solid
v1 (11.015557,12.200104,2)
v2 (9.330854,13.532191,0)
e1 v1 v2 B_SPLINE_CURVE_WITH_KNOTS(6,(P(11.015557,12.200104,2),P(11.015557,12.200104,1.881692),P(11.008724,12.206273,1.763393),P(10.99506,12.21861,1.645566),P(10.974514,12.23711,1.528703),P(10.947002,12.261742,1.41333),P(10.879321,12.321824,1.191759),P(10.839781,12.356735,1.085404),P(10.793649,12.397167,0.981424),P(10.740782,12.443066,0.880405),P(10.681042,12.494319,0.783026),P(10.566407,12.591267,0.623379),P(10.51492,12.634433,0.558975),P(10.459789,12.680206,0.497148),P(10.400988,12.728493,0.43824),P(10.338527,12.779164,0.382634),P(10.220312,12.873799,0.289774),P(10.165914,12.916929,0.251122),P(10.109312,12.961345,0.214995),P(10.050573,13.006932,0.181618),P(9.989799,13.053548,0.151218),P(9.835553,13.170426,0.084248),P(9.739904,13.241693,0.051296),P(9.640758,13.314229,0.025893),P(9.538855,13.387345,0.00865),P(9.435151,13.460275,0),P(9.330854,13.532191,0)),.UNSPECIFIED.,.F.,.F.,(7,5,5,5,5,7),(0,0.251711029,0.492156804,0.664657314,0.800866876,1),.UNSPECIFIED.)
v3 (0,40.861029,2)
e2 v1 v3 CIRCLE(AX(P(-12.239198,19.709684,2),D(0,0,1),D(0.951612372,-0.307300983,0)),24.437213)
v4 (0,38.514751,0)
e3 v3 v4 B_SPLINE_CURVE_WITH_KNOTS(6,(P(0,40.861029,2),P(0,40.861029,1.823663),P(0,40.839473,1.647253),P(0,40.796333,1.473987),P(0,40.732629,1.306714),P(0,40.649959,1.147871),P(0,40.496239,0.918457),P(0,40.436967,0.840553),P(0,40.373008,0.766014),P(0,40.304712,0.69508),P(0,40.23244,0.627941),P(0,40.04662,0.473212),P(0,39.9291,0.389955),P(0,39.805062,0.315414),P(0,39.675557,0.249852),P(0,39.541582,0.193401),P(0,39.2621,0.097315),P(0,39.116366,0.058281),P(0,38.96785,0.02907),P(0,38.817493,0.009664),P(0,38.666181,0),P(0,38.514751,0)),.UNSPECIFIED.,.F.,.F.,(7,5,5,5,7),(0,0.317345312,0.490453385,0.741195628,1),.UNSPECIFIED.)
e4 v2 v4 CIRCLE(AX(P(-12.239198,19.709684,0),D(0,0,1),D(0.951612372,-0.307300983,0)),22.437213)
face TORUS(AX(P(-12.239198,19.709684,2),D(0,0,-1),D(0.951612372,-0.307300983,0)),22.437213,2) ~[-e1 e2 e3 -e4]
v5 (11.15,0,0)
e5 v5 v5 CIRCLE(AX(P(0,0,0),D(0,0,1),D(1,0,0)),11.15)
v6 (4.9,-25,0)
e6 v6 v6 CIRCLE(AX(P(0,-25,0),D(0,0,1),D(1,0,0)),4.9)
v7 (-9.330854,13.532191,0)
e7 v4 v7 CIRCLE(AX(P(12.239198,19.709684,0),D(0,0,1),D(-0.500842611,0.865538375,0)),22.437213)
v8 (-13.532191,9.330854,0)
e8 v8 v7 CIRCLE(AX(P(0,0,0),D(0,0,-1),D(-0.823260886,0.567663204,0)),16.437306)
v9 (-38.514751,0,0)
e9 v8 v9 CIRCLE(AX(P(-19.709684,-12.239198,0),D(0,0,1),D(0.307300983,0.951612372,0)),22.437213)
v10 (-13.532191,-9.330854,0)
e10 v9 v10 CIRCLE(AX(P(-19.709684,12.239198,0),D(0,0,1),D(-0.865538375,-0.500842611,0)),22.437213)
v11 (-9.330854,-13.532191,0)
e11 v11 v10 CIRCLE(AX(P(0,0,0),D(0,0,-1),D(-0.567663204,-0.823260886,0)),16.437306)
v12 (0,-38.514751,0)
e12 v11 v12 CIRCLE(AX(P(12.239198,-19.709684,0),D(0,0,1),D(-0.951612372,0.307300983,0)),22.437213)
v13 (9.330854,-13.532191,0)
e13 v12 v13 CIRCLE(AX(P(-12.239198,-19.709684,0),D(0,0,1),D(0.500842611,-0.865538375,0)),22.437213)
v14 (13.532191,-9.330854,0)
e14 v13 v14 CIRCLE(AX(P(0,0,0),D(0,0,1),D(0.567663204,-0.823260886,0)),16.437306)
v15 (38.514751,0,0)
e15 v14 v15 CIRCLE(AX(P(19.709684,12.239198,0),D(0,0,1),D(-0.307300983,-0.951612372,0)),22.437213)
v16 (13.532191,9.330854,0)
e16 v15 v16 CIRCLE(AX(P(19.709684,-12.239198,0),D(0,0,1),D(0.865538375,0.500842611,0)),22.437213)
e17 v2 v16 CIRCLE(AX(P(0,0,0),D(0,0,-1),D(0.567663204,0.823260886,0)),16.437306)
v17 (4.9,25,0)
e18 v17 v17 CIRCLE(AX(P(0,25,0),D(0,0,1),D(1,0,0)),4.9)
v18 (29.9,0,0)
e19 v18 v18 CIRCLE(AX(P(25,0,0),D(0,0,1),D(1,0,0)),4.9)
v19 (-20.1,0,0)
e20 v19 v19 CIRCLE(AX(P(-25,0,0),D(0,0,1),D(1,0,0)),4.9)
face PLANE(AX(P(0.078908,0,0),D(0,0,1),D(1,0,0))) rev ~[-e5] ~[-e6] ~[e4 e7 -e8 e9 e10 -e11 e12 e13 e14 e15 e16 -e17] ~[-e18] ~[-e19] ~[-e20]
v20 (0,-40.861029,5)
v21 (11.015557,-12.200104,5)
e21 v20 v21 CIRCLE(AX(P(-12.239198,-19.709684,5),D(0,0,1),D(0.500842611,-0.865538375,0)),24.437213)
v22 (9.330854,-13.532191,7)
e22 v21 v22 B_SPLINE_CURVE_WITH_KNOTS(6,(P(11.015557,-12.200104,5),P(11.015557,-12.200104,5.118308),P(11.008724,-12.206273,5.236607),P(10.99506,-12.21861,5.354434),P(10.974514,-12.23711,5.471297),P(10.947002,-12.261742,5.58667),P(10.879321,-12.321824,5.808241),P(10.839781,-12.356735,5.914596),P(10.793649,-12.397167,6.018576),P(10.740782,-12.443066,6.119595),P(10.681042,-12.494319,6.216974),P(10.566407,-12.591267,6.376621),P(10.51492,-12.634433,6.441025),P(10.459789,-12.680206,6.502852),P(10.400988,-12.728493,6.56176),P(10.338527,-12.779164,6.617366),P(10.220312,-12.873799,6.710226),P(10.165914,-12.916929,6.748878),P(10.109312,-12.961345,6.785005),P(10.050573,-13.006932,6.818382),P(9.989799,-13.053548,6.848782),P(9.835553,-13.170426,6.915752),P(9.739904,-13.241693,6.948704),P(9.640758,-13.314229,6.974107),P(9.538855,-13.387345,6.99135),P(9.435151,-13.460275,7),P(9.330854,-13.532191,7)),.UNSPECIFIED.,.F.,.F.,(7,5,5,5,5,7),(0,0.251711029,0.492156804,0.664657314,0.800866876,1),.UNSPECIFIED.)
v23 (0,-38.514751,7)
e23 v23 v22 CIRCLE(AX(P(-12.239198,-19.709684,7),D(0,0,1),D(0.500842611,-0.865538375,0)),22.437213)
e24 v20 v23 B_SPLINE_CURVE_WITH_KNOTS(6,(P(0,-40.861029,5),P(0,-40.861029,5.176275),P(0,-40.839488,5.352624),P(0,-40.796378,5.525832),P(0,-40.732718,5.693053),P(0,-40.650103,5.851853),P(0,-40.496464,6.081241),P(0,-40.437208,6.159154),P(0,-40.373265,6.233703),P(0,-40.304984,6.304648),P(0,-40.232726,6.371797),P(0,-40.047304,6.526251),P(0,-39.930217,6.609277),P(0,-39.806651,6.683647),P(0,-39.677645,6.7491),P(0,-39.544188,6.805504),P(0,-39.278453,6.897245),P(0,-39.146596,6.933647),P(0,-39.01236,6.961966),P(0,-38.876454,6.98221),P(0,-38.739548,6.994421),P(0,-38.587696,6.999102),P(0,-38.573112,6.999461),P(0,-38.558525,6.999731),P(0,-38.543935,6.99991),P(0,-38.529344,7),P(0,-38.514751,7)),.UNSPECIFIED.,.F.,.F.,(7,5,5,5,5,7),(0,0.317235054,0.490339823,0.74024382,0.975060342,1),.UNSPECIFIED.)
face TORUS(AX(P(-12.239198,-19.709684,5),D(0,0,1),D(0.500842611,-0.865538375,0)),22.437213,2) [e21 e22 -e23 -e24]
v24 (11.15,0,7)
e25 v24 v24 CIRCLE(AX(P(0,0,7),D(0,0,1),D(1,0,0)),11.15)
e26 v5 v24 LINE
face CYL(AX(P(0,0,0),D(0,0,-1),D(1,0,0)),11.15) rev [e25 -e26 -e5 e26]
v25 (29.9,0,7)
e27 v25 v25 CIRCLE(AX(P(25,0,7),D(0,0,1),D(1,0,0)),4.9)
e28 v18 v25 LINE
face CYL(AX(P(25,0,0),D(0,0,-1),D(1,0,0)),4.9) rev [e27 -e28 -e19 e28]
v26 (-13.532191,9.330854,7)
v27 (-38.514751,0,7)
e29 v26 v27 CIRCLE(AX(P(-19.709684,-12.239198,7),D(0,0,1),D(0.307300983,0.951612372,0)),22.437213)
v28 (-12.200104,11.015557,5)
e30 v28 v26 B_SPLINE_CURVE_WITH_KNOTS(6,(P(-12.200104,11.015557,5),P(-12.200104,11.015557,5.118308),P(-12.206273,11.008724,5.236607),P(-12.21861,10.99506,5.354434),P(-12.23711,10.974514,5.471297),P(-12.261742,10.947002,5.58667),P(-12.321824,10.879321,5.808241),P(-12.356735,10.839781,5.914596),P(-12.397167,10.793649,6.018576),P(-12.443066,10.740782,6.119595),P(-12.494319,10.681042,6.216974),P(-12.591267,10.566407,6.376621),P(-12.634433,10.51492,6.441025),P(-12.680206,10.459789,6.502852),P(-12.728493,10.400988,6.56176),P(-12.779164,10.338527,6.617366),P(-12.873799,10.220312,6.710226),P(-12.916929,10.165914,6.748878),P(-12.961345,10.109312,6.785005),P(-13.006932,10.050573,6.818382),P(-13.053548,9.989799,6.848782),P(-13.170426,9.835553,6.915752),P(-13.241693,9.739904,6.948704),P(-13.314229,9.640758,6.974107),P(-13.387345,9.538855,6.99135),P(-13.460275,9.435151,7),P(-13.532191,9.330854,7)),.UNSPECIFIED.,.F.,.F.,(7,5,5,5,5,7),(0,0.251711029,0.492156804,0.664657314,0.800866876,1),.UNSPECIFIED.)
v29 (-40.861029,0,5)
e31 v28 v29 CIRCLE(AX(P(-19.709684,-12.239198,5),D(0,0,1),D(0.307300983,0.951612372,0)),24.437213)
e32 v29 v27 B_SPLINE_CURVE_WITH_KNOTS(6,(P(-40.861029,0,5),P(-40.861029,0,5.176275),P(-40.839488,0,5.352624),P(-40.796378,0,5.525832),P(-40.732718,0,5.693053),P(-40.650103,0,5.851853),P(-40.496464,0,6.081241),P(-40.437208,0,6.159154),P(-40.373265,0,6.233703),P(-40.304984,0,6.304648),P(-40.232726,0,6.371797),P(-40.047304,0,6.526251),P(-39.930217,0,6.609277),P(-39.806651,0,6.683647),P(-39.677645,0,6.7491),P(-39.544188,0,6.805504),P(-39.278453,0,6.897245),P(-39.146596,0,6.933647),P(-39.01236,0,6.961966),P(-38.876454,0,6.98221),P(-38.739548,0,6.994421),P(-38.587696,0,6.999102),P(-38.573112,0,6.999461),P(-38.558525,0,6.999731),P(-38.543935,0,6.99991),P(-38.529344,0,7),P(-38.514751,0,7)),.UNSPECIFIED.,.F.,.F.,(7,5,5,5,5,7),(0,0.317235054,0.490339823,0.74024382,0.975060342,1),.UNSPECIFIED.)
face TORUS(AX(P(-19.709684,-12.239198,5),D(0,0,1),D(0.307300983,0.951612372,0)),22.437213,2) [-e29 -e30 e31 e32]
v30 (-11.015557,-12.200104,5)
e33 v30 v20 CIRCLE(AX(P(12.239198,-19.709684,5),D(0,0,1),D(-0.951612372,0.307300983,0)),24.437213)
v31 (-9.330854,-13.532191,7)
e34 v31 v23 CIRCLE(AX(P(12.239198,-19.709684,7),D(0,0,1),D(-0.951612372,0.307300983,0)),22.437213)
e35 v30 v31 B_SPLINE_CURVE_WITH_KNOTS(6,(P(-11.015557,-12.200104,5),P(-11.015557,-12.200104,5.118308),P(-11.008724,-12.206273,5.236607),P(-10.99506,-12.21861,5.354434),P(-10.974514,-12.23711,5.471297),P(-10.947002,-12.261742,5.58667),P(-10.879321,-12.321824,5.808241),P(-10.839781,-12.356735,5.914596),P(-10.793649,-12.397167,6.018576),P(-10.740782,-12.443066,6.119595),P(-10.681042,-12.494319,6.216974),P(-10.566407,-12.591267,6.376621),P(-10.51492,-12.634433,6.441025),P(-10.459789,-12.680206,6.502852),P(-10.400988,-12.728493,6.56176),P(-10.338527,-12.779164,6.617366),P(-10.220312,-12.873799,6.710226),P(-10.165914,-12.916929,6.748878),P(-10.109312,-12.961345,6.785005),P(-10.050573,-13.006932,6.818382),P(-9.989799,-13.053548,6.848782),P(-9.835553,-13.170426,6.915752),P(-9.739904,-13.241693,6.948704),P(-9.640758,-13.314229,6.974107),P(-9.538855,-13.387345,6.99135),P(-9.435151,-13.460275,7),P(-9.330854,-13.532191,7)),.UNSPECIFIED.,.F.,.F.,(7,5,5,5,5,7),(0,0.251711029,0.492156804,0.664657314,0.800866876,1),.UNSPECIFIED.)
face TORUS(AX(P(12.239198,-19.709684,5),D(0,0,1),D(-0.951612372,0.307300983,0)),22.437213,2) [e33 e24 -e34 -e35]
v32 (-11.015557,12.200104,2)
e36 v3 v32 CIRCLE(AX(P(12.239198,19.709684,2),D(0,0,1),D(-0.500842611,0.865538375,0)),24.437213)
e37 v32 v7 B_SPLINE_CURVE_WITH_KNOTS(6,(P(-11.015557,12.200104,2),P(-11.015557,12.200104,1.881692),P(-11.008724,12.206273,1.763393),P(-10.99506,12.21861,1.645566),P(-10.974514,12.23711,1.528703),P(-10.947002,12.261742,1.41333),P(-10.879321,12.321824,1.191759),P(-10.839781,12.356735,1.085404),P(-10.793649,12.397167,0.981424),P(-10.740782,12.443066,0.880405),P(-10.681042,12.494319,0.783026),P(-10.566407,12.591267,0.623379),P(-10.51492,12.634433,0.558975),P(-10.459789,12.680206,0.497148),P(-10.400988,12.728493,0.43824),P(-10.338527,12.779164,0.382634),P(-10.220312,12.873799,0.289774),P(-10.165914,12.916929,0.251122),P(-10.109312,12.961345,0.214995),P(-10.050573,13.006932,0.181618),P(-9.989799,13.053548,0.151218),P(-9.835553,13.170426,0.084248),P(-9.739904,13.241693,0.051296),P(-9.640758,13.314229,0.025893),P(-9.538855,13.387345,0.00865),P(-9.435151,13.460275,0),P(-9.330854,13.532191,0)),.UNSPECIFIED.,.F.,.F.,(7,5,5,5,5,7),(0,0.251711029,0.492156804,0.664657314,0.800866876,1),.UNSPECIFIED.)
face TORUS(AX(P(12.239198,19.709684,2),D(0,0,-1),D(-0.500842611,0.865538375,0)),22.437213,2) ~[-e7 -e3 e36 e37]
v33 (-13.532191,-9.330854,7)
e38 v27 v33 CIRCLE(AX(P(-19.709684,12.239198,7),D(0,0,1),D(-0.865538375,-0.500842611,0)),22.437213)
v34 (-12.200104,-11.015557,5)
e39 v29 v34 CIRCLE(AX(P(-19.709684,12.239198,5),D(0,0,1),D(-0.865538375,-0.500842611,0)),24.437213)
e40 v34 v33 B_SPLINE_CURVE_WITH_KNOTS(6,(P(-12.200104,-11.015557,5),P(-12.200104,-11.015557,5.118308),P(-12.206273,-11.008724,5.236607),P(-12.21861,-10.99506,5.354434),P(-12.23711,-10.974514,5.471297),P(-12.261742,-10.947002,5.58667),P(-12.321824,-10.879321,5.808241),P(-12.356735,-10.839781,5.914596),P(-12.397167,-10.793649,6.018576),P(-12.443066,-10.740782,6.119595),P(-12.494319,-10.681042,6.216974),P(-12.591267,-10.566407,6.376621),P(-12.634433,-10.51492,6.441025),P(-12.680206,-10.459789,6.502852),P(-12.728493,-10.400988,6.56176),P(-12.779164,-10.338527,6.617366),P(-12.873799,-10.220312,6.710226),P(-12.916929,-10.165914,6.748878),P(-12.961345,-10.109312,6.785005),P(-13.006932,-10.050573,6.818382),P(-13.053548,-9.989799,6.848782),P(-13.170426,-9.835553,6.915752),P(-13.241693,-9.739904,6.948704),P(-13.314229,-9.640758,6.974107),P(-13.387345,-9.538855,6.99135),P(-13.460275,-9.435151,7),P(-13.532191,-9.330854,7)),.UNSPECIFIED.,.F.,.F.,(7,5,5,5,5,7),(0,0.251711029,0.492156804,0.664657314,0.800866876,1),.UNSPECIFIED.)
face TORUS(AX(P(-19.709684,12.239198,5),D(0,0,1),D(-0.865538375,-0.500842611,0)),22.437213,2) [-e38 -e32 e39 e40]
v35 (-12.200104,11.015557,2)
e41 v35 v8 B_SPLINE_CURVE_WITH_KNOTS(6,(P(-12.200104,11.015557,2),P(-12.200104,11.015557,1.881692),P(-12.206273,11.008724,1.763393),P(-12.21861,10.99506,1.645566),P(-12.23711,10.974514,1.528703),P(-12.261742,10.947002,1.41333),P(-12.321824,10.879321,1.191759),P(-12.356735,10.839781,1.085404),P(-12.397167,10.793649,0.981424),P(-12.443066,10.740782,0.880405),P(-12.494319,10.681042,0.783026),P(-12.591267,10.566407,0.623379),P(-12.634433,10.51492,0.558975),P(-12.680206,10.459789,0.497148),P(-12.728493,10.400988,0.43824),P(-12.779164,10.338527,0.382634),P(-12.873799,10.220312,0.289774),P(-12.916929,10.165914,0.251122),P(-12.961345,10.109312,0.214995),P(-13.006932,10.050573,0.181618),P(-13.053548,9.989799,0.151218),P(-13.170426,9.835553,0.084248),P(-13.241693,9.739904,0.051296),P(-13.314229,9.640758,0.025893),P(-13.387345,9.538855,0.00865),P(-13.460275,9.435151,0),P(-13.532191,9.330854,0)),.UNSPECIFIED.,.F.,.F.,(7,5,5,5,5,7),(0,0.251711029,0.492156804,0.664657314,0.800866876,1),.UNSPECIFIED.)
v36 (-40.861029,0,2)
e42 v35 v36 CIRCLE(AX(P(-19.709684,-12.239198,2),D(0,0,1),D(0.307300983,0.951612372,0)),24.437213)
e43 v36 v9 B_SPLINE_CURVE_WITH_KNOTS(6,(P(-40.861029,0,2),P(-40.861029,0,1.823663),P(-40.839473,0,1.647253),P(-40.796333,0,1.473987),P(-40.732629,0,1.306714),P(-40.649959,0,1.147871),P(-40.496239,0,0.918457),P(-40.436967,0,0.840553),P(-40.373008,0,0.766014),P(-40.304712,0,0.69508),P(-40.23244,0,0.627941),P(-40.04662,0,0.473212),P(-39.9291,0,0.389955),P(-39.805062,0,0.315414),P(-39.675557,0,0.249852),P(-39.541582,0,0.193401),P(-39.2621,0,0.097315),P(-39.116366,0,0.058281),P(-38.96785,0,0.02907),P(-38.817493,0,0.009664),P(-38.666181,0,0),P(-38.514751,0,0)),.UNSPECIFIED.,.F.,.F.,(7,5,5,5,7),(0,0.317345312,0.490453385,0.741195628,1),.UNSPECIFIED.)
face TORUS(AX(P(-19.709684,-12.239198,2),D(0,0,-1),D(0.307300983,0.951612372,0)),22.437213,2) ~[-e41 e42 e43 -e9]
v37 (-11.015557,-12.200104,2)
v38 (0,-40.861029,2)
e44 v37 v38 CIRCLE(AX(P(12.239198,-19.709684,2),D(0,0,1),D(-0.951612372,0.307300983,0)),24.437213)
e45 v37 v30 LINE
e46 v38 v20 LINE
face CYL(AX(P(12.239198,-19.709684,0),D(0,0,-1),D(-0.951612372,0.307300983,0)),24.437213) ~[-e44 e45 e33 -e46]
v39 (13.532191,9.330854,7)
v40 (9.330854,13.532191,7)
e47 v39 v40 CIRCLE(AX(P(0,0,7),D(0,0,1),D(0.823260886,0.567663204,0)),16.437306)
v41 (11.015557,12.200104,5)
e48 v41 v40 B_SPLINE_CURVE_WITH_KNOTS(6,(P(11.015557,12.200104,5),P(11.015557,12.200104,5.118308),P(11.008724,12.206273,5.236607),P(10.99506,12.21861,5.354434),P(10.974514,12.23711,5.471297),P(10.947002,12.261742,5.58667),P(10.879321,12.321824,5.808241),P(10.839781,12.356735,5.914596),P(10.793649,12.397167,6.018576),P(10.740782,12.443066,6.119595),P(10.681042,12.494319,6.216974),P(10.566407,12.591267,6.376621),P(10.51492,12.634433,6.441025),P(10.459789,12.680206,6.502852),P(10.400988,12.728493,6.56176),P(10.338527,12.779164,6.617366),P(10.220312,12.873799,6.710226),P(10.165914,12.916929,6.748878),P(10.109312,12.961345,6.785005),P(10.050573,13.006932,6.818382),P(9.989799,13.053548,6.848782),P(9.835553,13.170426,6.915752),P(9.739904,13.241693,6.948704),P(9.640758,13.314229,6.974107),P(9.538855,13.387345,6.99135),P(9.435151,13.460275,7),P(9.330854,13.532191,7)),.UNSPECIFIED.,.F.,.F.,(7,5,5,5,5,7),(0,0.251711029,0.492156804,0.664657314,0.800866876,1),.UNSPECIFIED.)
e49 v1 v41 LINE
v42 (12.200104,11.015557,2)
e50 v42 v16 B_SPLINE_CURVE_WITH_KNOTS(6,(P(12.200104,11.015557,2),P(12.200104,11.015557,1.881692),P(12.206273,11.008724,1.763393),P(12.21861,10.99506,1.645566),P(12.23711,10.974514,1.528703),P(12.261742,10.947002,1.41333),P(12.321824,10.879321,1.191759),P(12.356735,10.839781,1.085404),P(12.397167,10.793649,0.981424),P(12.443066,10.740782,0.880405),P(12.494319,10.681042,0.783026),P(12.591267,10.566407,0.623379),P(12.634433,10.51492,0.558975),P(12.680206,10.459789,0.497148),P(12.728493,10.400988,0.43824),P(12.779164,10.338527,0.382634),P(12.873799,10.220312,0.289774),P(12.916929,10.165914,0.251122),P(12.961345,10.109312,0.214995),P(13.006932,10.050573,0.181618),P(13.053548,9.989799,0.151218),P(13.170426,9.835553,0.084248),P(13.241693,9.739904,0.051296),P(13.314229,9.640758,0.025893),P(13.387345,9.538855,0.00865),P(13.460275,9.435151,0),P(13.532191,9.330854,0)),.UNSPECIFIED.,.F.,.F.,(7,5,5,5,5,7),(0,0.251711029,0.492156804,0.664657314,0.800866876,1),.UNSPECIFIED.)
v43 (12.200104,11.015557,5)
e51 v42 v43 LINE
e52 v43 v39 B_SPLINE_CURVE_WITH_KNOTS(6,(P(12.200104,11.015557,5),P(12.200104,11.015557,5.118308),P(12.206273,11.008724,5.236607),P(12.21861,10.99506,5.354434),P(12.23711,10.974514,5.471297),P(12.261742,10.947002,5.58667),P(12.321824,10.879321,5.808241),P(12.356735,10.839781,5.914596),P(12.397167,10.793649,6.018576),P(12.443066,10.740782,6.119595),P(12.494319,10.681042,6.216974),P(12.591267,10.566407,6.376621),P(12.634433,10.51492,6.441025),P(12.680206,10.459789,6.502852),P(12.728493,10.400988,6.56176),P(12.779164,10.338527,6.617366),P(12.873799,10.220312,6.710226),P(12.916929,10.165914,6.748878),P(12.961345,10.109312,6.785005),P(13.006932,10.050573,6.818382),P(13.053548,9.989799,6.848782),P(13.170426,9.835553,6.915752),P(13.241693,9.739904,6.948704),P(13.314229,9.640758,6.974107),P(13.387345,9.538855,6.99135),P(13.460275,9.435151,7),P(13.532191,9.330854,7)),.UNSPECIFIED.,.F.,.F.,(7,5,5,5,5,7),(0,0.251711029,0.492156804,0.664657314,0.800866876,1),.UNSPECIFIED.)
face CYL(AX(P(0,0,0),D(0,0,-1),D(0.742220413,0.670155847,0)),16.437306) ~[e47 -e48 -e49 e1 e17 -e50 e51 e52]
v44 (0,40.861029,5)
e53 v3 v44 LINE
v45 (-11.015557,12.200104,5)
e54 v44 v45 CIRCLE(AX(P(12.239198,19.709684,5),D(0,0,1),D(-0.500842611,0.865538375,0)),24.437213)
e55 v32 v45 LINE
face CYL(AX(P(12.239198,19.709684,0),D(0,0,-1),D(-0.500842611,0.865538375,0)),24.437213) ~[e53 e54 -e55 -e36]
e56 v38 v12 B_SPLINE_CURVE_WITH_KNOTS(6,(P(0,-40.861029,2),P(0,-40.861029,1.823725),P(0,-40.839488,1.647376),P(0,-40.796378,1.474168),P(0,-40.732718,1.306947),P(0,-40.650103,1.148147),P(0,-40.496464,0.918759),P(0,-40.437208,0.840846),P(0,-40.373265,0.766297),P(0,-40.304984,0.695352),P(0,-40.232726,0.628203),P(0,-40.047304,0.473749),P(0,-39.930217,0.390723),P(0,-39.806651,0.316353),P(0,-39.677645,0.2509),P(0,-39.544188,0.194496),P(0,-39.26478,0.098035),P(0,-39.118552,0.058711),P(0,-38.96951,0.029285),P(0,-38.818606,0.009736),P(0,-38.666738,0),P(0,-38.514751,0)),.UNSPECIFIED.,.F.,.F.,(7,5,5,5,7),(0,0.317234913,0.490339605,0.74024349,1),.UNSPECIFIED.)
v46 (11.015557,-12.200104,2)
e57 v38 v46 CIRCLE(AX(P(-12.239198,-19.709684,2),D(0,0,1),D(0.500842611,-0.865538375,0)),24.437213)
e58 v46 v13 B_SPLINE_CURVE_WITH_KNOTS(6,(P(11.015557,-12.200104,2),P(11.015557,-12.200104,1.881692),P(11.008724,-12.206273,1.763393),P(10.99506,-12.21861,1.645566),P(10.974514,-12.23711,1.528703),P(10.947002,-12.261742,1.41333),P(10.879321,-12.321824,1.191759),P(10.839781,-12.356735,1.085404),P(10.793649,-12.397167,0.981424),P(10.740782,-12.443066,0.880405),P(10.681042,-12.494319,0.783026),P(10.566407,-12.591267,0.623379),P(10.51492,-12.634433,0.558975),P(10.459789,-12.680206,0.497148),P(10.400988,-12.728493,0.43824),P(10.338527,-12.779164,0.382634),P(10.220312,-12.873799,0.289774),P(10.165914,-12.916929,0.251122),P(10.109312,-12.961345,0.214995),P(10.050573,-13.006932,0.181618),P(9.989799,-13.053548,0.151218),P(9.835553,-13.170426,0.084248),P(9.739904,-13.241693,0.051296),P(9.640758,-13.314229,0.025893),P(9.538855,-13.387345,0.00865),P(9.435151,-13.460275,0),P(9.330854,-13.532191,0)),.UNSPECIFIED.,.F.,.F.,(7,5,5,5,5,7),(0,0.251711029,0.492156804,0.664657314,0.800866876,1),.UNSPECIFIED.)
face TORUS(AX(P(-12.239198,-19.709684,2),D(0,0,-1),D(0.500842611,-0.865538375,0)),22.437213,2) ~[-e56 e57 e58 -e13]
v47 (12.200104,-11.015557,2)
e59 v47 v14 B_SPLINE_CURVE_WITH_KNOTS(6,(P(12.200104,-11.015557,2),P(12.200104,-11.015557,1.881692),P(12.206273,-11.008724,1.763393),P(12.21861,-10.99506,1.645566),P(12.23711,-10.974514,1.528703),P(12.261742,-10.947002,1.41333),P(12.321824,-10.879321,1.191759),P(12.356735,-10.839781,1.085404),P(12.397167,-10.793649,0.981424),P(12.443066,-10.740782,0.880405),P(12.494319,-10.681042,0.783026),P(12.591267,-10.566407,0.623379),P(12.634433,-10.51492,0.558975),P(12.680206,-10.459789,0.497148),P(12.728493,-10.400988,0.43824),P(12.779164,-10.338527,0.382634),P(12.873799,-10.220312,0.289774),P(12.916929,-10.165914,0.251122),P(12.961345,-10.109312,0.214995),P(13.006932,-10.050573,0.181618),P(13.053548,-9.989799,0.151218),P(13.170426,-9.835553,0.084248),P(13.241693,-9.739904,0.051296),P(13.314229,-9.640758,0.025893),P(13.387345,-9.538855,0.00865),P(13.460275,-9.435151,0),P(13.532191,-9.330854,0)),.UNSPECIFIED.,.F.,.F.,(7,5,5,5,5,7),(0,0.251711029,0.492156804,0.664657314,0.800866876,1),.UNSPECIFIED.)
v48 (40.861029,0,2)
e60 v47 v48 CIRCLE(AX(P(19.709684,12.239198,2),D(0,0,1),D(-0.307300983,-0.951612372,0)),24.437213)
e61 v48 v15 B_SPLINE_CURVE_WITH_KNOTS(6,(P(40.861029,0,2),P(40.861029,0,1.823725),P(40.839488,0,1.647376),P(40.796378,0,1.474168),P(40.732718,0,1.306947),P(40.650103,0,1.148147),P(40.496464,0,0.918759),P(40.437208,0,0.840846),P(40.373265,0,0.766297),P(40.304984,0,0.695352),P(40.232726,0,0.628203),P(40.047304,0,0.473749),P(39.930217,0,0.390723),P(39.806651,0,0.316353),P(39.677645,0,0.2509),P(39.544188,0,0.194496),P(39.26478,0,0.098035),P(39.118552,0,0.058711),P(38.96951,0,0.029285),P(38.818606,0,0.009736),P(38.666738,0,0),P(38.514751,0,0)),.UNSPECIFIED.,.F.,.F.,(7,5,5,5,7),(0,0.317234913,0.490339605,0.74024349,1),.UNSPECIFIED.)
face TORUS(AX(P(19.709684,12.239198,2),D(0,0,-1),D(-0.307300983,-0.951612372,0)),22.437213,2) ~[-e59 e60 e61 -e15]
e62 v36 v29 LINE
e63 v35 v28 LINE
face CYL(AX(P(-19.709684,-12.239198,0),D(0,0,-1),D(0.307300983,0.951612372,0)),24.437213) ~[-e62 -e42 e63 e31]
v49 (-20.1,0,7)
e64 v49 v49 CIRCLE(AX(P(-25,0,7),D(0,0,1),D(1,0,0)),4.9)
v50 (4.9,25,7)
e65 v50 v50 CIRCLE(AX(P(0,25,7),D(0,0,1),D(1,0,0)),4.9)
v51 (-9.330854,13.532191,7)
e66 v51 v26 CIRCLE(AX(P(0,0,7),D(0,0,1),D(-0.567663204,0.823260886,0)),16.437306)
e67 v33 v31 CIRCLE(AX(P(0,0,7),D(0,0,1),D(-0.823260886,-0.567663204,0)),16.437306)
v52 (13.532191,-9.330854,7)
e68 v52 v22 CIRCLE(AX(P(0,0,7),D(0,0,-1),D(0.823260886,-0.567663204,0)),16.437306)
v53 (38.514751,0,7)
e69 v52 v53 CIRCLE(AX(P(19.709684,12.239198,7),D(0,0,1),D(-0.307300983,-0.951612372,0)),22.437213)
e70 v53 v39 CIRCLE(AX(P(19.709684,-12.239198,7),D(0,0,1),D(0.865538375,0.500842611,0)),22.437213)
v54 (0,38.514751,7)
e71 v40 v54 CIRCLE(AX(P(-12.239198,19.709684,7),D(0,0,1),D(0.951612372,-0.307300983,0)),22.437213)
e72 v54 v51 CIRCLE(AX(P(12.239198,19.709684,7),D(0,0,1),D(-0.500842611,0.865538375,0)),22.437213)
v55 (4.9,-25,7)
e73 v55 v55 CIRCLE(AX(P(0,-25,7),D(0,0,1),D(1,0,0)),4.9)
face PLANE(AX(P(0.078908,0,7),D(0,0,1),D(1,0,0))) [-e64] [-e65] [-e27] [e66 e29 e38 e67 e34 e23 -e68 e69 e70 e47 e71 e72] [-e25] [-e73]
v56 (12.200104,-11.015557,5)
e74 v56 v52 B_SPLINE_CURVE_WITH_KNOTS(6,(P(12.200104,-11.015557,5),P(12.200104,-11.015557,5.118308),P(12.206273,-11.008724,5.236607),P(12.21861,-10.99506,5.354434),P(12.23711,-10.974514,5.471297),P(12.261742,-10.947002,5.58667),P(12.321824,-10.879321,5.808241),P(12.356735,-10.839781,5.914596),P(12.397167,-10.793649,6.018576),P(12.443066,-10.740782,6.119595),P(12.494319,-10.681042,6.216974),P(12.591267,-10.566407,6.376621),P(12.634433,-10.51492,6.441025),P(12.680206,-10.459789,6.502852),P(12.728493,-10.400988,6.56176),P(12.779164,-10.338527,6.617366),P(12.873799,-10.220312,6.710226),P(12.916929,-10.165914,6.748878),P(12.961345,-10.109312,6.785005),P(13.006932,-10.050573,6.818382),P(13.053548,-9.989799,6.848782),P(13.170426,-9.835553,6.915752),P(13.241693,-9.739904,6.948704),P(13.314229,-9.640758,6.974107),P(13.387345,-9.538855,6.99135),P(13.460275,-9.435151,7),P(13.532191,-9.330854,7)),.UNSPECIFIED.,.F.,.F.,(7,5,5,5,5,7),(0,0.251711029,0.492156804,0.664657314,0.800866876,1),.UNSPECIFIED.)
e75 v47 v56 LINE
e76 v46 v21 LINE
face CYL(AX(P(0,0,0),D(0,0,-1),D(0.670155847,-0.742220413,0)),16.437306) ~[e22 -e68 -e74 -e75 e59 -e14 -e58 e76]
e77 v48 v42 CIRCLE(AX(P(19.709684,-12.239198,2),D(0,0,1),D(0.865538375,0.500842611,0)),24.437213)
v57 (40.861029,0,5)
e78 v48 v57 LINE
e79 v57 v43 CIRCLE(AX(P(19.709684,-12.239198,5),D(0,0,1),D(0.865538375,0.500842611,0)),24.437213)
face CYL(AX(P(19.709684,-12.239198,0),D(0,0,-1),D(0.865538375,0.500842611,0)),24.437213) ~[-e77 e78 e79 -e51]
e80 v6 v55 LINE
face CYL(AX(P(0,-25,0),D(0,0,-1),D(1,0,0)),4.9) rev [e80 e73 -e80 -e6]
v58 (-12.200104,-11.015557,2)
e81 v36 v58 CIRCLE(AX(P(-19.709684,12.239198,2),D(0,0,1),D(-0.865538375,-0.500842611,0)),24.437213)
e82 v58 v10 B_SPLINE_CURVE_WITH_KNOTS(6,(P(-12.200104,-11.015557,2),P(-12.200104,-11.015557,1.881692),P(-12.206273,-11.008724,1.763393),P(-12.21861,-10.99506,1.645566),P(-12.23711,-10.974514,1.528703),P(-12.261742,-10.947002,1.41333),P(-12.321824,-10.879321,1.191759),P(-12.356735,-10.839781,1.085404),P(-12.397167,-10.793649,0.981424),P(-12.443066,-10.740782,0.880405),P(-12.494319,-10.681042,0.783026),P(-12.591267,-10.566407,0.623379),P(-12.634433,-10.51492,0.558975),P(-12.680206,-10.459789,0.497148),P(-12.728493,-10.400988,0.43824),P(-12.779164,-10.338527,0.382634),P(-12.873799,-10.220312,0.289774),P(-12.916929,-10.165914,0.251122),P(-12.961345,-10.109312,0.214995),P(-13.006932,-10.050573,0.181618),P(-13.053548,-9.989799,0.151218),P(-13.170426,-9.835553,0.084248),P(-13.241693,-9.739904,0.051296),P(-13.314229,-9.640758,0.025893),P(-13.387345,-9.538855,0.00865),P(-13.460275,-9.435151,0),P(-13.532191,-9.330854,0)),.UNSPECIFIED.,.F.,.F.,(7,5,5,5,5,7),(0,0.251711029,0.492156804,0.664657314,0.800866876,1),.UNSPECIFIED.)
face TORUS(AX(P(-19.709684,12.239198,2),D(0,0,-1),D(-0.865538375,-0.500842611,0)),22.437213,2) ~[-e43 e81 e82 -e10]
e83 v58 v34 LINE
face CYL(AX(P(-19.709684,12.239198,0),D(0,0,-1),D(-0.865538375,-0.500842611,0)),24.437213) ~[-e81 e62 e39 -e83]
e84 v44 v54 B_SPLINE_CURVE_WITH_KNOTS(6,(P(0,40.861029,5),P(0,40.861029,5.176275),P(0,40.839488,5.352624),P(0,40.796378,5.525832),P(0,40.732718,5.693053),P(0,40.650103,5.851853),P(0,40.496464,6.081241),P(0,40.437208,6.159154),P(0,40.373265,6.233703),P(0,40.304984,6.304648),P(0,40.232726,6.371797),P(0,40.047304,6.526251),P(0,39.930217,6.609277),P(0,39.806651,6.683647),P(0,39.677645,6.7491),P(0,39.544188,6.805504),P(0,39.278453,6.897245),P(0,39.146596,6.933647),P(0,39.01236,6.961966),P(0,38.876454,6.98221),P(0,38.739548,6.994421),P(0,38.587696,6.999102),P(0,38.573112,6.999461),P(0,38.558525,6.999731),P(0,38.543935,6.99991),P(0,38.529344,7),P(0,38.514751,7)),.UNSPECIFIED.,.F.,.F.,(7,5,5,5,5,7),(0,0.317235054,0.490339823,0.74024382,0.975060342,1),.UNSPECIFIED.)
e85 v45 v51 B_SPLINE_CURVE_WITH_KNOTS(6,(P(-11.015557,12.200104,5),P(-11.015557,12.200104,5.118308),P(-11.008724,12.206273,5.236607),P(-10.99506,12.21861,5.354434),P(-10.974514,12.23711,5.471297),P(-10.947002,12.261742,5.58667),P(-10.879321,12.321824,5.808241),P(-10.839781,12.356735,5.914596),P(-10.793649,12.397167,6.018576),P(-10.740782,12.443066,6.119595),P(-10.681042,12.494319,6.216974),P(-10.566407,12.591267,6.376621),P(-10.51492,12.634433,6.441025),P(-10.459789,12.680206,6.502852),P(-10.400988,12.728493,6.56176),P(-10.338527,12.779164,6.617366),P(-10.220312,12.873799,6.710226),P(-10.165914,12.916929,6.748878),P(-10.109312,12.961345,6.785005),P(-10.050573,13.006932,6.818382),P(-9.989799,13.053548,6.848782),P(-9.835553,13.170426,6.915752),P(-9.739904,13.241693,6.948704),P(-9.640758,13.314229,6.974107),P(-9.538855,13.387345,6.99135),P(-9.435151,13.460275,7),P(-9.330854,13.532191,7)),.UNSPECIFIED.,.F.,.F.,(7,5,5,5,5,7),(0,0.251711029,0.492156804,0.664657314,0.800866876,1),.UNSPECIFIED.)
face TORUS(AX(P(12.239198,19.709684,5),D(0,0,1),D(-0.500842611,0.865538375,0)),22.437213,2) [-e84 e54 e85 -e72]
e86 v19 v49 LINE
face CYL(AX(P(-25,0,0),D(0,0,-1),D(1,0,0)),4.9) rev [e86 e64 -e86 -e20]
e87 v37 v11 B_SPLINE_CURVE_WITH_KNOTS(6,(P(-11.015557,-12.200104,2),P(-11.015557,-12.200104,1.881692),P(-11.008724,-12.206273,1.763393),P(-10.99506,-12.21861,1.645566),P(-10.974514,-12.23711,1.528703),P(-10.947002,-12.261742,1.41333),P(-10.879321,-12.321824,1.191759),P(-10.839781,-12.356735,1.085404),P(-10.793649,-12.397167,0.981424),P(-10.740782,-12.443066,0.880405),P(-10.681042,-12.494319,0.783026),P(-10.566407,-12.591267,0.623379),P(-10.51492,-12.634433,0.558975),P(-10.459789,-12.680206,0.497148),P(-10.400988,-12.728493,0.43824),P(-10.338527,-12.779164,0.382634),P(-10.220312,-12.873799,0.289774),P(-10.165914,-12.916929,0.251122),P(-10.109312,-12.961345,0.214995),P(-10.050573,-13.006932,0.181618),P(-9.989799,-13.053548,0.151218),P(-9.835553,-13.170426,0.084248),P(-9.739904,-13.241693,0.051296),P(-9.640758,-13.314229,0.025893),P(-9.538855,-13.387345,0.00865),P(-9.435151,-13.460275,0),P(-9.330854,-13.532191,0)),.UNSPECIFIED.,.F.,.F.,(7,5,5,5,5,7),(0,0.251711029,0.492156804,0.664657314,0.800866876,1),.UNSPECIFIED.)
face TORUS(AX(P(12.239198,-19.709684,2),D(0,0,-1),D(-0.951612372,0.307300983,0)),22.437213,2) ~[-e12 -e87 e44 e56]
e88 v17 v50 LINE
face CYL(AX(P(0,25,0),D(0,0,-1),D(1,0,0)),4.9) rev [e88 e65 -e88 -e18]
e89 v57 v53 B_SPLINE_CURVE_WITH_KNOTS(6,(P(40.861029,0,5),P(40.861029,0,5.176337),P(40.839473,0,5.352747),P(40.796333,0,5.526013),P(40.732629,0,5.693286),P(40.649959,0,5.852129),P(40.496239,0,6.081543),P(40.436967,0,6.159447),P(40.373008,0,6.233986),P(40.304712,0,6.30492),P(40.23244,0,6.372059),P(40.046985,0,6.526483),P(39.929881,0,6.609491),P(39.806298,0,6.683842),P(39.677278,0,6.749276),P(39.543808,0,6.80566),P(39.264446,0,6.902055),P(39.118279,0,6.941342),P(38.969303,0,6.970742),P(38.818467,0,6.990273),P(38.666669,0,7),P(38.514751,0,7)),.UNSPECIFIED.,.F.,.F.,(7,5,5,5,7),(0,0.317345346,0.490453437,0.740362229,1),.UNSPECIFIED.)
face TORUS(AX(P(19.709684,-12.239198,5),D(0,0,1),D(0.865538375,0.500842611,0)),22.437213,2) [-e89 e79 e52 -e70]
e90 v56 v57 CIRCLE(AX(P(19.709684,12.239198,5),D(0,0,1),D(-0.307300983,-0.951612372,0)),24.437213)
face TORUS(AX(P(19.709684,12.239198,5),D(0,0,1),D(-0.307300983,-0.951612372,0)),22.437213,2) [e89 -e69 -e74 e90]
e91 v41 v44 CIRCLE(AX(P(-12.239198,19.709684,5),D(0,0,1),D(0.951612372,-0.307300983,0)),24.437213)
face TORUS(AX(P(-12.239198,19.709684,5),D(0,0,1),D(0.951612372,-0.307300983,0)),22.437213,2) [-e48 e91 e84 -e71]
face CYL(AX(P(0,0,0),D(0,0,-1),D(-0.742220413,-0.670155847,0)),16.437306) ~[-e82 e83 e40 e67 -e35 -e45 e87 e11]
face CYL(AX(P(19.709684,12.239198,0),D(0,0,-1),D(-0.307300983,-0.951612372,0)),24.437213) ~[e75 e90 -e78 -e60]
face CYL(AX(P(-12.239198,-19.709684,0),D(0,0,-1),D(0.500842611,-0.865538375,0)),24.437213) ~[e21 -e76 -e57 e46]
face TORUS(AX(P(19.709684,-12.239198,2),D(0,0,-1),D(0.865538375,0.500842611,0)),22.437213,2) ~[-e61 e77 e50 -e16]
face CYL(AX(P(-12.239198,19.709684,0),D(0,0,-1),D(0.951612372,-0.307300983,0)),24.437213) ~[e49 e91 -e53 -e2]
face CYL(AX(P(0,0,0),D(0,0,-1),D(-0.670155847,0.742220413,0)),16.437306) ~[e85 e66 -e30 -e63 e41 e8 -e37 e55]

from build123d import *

# Parameters (mm, degrees)
F0_R     = 11.15
F0_R_2   = 4.9
F0_R_3   = 7.9261864564
F1_DEPTH = 7
F2_R     = 2


with BuildPart() as f1:
    # F0 (on Top) → F1 (new body)
    with BuildSketch(Plane.XY):
        with BuildLine():
            ThreePointArc((12.2001039663, -11.0155566574), (15.3414775392, -5.9011941313), (16.4373059003, 0))
            ThreePointArc((16.4373059003, 0), (15.3414775392, 5.9011941313), (12.2001039663, 11.0155566574))
            ThreePointArc((12.2001039663, 11.0155566574), (11.6229304666, 11.6229304666), (11.0155566574, 12.2001039663))
            ThreePointArc((11.0155566574, 12.2001039663), (0, 16.4373059003), (-11.0155566574, 12.2001039663))
            ThreePointArc((-11.0155566574, 12.2001039663), (-11.6229304666, 11.6229304666), (-12.2001039663, 11.0155566574))
            ThreePointArc((-12.2001039663, 11.0155566574), (-16.4373059003, 0), (-12.2001039663, -11.0155566574))
            ThreePointArc((-12.2001039663, -11.0155566574), (-11.6229304666, -11.6229304666), (-11.0155566574, -12.2001039663))
            ThreePointArc((-11.0155566574, -12.2001039663), (0, -16.4373059003), (11.0155566574, -12.2001039663))
            ThreePointArc((11.0155566574, -12.2001039663), (11.6229304666, -11.6229304666), (12.2001039663, -11.0155566574))
        make_face()
        Circle(F0_R, mode=Mode.SUBTRACT)
        with BuildLine():
            ThreePointArc((-11.0155566574, 12.2001039663), (0, 16.4373059003), (11.0155566574, 12.2001039663))
            ThreePointArc((11.0155566574, 12.2001039663), (10.5712674009, 28.4766709057), (0, 40.8610291779))
            ThreePointArc((0, 40.8610291779), (-10.5712674009, 28.4766709057), (-11.0155566574, 12.2001039663))
        make_face()
        with Locations((0, 25)):
            Circle(F0_R_2, mode=Mode.SUBTRACT)
        with BuildLine():
            ThreePointArc((0, -40.8610291779), (10.5712674009, -28.4766709057), (11.0155566574, -12.2001039663))
            ThreePointArc((11.0155566574, -12.2001039663), (0, -16.4373059003), (-11.0155566574, -12.2001039663))
            ThreePointArc((-11.0155566574, -12.2001039663), (-10.5712674009, -28.4766709057), (0, -40.8610291779))
        make_face()
        with Locations((0, -25)):
            Circle(F0_R_2, mode=Mode.SUBTRACT)
        with BuildLine():
            ThreePointArc((12.2001039663, 11.0155566574), (15.3414775392, 5.9011941313), (16.4373059003, 0))
            ThreePointArc((16.4373059003, 0), (15.3414775392, -5.9011941313), (12.2001039663, -11.0155566574))
            ThreePointArc((12.2001039663, -11.0155566574), (28.4766709057, -10.5712674009), (40.8610291779, 0))
            ThreePointArc((40.8610291779, 0), (28.4766709057, 10.5712674009), (12.2001039663, 11.0155566574))
        make_face()
        with Locations((25, 0)):
            Circle(F0_R_3, mode=Mode.SUBTRACT)
        with BuildLine():
            ThreePointArc((-12.2001039663, -11.0155566574), (-16.4373059003, 0), (-12.2001039663, 11.0155566574))
            ThreePointArc((-12.2001039663, 11.0155566574), (-28.4766709057, 10.5712674009), (-40.8610291779, 0))
            ThreePointArc((-40.8610291779, 0), (-28.4766709057, -10.5712674009), (-12.2001039663, -11.0155566574))
        make_face()
        with Locations((-25, 0)):
            Circle(F0_R_2, mode=Mode.SUBTRACT)
        with Locations((25, 0)):
            Circle(F0_R_3)
        with Locations((25, 0)):
            Circle(F0_R_2, mode=Mode.SUBTRACT)
    extrude(amount=F1_DEPTH)

    # F2
    f2_edges = [f1.edges().sort_by_distance(p)[0] for p in [
        (-10.571267, 28.476671, 7),
        (10.571267, 28.476671, 7),
        (28.476671, -10.571267, 7),
        (28.476671, 10.571267, 7),
        (10.571267, -28.476671, 7),
        (-10.571267, -28.476671, 7),
        (-28.476671, -10.571267, 7),
        (-28.476671, 10.571267, 7),
        (10.571267, 28.476671, 0),
        (-10.571267, 28.476671, 0),
        (-28.476671, 10.571267, 0),
        (-28.476671, -10.571267, 0),
        (10.571267, -28.476671, 0),
        (-10.571267, -28.476671, 0),
        (28.476671, 10.571267, 0),
        (28.476671, -10.571267, 0),
    ]]
    fillet(f2_edges, radius=F2_R)


solid = f1.part
